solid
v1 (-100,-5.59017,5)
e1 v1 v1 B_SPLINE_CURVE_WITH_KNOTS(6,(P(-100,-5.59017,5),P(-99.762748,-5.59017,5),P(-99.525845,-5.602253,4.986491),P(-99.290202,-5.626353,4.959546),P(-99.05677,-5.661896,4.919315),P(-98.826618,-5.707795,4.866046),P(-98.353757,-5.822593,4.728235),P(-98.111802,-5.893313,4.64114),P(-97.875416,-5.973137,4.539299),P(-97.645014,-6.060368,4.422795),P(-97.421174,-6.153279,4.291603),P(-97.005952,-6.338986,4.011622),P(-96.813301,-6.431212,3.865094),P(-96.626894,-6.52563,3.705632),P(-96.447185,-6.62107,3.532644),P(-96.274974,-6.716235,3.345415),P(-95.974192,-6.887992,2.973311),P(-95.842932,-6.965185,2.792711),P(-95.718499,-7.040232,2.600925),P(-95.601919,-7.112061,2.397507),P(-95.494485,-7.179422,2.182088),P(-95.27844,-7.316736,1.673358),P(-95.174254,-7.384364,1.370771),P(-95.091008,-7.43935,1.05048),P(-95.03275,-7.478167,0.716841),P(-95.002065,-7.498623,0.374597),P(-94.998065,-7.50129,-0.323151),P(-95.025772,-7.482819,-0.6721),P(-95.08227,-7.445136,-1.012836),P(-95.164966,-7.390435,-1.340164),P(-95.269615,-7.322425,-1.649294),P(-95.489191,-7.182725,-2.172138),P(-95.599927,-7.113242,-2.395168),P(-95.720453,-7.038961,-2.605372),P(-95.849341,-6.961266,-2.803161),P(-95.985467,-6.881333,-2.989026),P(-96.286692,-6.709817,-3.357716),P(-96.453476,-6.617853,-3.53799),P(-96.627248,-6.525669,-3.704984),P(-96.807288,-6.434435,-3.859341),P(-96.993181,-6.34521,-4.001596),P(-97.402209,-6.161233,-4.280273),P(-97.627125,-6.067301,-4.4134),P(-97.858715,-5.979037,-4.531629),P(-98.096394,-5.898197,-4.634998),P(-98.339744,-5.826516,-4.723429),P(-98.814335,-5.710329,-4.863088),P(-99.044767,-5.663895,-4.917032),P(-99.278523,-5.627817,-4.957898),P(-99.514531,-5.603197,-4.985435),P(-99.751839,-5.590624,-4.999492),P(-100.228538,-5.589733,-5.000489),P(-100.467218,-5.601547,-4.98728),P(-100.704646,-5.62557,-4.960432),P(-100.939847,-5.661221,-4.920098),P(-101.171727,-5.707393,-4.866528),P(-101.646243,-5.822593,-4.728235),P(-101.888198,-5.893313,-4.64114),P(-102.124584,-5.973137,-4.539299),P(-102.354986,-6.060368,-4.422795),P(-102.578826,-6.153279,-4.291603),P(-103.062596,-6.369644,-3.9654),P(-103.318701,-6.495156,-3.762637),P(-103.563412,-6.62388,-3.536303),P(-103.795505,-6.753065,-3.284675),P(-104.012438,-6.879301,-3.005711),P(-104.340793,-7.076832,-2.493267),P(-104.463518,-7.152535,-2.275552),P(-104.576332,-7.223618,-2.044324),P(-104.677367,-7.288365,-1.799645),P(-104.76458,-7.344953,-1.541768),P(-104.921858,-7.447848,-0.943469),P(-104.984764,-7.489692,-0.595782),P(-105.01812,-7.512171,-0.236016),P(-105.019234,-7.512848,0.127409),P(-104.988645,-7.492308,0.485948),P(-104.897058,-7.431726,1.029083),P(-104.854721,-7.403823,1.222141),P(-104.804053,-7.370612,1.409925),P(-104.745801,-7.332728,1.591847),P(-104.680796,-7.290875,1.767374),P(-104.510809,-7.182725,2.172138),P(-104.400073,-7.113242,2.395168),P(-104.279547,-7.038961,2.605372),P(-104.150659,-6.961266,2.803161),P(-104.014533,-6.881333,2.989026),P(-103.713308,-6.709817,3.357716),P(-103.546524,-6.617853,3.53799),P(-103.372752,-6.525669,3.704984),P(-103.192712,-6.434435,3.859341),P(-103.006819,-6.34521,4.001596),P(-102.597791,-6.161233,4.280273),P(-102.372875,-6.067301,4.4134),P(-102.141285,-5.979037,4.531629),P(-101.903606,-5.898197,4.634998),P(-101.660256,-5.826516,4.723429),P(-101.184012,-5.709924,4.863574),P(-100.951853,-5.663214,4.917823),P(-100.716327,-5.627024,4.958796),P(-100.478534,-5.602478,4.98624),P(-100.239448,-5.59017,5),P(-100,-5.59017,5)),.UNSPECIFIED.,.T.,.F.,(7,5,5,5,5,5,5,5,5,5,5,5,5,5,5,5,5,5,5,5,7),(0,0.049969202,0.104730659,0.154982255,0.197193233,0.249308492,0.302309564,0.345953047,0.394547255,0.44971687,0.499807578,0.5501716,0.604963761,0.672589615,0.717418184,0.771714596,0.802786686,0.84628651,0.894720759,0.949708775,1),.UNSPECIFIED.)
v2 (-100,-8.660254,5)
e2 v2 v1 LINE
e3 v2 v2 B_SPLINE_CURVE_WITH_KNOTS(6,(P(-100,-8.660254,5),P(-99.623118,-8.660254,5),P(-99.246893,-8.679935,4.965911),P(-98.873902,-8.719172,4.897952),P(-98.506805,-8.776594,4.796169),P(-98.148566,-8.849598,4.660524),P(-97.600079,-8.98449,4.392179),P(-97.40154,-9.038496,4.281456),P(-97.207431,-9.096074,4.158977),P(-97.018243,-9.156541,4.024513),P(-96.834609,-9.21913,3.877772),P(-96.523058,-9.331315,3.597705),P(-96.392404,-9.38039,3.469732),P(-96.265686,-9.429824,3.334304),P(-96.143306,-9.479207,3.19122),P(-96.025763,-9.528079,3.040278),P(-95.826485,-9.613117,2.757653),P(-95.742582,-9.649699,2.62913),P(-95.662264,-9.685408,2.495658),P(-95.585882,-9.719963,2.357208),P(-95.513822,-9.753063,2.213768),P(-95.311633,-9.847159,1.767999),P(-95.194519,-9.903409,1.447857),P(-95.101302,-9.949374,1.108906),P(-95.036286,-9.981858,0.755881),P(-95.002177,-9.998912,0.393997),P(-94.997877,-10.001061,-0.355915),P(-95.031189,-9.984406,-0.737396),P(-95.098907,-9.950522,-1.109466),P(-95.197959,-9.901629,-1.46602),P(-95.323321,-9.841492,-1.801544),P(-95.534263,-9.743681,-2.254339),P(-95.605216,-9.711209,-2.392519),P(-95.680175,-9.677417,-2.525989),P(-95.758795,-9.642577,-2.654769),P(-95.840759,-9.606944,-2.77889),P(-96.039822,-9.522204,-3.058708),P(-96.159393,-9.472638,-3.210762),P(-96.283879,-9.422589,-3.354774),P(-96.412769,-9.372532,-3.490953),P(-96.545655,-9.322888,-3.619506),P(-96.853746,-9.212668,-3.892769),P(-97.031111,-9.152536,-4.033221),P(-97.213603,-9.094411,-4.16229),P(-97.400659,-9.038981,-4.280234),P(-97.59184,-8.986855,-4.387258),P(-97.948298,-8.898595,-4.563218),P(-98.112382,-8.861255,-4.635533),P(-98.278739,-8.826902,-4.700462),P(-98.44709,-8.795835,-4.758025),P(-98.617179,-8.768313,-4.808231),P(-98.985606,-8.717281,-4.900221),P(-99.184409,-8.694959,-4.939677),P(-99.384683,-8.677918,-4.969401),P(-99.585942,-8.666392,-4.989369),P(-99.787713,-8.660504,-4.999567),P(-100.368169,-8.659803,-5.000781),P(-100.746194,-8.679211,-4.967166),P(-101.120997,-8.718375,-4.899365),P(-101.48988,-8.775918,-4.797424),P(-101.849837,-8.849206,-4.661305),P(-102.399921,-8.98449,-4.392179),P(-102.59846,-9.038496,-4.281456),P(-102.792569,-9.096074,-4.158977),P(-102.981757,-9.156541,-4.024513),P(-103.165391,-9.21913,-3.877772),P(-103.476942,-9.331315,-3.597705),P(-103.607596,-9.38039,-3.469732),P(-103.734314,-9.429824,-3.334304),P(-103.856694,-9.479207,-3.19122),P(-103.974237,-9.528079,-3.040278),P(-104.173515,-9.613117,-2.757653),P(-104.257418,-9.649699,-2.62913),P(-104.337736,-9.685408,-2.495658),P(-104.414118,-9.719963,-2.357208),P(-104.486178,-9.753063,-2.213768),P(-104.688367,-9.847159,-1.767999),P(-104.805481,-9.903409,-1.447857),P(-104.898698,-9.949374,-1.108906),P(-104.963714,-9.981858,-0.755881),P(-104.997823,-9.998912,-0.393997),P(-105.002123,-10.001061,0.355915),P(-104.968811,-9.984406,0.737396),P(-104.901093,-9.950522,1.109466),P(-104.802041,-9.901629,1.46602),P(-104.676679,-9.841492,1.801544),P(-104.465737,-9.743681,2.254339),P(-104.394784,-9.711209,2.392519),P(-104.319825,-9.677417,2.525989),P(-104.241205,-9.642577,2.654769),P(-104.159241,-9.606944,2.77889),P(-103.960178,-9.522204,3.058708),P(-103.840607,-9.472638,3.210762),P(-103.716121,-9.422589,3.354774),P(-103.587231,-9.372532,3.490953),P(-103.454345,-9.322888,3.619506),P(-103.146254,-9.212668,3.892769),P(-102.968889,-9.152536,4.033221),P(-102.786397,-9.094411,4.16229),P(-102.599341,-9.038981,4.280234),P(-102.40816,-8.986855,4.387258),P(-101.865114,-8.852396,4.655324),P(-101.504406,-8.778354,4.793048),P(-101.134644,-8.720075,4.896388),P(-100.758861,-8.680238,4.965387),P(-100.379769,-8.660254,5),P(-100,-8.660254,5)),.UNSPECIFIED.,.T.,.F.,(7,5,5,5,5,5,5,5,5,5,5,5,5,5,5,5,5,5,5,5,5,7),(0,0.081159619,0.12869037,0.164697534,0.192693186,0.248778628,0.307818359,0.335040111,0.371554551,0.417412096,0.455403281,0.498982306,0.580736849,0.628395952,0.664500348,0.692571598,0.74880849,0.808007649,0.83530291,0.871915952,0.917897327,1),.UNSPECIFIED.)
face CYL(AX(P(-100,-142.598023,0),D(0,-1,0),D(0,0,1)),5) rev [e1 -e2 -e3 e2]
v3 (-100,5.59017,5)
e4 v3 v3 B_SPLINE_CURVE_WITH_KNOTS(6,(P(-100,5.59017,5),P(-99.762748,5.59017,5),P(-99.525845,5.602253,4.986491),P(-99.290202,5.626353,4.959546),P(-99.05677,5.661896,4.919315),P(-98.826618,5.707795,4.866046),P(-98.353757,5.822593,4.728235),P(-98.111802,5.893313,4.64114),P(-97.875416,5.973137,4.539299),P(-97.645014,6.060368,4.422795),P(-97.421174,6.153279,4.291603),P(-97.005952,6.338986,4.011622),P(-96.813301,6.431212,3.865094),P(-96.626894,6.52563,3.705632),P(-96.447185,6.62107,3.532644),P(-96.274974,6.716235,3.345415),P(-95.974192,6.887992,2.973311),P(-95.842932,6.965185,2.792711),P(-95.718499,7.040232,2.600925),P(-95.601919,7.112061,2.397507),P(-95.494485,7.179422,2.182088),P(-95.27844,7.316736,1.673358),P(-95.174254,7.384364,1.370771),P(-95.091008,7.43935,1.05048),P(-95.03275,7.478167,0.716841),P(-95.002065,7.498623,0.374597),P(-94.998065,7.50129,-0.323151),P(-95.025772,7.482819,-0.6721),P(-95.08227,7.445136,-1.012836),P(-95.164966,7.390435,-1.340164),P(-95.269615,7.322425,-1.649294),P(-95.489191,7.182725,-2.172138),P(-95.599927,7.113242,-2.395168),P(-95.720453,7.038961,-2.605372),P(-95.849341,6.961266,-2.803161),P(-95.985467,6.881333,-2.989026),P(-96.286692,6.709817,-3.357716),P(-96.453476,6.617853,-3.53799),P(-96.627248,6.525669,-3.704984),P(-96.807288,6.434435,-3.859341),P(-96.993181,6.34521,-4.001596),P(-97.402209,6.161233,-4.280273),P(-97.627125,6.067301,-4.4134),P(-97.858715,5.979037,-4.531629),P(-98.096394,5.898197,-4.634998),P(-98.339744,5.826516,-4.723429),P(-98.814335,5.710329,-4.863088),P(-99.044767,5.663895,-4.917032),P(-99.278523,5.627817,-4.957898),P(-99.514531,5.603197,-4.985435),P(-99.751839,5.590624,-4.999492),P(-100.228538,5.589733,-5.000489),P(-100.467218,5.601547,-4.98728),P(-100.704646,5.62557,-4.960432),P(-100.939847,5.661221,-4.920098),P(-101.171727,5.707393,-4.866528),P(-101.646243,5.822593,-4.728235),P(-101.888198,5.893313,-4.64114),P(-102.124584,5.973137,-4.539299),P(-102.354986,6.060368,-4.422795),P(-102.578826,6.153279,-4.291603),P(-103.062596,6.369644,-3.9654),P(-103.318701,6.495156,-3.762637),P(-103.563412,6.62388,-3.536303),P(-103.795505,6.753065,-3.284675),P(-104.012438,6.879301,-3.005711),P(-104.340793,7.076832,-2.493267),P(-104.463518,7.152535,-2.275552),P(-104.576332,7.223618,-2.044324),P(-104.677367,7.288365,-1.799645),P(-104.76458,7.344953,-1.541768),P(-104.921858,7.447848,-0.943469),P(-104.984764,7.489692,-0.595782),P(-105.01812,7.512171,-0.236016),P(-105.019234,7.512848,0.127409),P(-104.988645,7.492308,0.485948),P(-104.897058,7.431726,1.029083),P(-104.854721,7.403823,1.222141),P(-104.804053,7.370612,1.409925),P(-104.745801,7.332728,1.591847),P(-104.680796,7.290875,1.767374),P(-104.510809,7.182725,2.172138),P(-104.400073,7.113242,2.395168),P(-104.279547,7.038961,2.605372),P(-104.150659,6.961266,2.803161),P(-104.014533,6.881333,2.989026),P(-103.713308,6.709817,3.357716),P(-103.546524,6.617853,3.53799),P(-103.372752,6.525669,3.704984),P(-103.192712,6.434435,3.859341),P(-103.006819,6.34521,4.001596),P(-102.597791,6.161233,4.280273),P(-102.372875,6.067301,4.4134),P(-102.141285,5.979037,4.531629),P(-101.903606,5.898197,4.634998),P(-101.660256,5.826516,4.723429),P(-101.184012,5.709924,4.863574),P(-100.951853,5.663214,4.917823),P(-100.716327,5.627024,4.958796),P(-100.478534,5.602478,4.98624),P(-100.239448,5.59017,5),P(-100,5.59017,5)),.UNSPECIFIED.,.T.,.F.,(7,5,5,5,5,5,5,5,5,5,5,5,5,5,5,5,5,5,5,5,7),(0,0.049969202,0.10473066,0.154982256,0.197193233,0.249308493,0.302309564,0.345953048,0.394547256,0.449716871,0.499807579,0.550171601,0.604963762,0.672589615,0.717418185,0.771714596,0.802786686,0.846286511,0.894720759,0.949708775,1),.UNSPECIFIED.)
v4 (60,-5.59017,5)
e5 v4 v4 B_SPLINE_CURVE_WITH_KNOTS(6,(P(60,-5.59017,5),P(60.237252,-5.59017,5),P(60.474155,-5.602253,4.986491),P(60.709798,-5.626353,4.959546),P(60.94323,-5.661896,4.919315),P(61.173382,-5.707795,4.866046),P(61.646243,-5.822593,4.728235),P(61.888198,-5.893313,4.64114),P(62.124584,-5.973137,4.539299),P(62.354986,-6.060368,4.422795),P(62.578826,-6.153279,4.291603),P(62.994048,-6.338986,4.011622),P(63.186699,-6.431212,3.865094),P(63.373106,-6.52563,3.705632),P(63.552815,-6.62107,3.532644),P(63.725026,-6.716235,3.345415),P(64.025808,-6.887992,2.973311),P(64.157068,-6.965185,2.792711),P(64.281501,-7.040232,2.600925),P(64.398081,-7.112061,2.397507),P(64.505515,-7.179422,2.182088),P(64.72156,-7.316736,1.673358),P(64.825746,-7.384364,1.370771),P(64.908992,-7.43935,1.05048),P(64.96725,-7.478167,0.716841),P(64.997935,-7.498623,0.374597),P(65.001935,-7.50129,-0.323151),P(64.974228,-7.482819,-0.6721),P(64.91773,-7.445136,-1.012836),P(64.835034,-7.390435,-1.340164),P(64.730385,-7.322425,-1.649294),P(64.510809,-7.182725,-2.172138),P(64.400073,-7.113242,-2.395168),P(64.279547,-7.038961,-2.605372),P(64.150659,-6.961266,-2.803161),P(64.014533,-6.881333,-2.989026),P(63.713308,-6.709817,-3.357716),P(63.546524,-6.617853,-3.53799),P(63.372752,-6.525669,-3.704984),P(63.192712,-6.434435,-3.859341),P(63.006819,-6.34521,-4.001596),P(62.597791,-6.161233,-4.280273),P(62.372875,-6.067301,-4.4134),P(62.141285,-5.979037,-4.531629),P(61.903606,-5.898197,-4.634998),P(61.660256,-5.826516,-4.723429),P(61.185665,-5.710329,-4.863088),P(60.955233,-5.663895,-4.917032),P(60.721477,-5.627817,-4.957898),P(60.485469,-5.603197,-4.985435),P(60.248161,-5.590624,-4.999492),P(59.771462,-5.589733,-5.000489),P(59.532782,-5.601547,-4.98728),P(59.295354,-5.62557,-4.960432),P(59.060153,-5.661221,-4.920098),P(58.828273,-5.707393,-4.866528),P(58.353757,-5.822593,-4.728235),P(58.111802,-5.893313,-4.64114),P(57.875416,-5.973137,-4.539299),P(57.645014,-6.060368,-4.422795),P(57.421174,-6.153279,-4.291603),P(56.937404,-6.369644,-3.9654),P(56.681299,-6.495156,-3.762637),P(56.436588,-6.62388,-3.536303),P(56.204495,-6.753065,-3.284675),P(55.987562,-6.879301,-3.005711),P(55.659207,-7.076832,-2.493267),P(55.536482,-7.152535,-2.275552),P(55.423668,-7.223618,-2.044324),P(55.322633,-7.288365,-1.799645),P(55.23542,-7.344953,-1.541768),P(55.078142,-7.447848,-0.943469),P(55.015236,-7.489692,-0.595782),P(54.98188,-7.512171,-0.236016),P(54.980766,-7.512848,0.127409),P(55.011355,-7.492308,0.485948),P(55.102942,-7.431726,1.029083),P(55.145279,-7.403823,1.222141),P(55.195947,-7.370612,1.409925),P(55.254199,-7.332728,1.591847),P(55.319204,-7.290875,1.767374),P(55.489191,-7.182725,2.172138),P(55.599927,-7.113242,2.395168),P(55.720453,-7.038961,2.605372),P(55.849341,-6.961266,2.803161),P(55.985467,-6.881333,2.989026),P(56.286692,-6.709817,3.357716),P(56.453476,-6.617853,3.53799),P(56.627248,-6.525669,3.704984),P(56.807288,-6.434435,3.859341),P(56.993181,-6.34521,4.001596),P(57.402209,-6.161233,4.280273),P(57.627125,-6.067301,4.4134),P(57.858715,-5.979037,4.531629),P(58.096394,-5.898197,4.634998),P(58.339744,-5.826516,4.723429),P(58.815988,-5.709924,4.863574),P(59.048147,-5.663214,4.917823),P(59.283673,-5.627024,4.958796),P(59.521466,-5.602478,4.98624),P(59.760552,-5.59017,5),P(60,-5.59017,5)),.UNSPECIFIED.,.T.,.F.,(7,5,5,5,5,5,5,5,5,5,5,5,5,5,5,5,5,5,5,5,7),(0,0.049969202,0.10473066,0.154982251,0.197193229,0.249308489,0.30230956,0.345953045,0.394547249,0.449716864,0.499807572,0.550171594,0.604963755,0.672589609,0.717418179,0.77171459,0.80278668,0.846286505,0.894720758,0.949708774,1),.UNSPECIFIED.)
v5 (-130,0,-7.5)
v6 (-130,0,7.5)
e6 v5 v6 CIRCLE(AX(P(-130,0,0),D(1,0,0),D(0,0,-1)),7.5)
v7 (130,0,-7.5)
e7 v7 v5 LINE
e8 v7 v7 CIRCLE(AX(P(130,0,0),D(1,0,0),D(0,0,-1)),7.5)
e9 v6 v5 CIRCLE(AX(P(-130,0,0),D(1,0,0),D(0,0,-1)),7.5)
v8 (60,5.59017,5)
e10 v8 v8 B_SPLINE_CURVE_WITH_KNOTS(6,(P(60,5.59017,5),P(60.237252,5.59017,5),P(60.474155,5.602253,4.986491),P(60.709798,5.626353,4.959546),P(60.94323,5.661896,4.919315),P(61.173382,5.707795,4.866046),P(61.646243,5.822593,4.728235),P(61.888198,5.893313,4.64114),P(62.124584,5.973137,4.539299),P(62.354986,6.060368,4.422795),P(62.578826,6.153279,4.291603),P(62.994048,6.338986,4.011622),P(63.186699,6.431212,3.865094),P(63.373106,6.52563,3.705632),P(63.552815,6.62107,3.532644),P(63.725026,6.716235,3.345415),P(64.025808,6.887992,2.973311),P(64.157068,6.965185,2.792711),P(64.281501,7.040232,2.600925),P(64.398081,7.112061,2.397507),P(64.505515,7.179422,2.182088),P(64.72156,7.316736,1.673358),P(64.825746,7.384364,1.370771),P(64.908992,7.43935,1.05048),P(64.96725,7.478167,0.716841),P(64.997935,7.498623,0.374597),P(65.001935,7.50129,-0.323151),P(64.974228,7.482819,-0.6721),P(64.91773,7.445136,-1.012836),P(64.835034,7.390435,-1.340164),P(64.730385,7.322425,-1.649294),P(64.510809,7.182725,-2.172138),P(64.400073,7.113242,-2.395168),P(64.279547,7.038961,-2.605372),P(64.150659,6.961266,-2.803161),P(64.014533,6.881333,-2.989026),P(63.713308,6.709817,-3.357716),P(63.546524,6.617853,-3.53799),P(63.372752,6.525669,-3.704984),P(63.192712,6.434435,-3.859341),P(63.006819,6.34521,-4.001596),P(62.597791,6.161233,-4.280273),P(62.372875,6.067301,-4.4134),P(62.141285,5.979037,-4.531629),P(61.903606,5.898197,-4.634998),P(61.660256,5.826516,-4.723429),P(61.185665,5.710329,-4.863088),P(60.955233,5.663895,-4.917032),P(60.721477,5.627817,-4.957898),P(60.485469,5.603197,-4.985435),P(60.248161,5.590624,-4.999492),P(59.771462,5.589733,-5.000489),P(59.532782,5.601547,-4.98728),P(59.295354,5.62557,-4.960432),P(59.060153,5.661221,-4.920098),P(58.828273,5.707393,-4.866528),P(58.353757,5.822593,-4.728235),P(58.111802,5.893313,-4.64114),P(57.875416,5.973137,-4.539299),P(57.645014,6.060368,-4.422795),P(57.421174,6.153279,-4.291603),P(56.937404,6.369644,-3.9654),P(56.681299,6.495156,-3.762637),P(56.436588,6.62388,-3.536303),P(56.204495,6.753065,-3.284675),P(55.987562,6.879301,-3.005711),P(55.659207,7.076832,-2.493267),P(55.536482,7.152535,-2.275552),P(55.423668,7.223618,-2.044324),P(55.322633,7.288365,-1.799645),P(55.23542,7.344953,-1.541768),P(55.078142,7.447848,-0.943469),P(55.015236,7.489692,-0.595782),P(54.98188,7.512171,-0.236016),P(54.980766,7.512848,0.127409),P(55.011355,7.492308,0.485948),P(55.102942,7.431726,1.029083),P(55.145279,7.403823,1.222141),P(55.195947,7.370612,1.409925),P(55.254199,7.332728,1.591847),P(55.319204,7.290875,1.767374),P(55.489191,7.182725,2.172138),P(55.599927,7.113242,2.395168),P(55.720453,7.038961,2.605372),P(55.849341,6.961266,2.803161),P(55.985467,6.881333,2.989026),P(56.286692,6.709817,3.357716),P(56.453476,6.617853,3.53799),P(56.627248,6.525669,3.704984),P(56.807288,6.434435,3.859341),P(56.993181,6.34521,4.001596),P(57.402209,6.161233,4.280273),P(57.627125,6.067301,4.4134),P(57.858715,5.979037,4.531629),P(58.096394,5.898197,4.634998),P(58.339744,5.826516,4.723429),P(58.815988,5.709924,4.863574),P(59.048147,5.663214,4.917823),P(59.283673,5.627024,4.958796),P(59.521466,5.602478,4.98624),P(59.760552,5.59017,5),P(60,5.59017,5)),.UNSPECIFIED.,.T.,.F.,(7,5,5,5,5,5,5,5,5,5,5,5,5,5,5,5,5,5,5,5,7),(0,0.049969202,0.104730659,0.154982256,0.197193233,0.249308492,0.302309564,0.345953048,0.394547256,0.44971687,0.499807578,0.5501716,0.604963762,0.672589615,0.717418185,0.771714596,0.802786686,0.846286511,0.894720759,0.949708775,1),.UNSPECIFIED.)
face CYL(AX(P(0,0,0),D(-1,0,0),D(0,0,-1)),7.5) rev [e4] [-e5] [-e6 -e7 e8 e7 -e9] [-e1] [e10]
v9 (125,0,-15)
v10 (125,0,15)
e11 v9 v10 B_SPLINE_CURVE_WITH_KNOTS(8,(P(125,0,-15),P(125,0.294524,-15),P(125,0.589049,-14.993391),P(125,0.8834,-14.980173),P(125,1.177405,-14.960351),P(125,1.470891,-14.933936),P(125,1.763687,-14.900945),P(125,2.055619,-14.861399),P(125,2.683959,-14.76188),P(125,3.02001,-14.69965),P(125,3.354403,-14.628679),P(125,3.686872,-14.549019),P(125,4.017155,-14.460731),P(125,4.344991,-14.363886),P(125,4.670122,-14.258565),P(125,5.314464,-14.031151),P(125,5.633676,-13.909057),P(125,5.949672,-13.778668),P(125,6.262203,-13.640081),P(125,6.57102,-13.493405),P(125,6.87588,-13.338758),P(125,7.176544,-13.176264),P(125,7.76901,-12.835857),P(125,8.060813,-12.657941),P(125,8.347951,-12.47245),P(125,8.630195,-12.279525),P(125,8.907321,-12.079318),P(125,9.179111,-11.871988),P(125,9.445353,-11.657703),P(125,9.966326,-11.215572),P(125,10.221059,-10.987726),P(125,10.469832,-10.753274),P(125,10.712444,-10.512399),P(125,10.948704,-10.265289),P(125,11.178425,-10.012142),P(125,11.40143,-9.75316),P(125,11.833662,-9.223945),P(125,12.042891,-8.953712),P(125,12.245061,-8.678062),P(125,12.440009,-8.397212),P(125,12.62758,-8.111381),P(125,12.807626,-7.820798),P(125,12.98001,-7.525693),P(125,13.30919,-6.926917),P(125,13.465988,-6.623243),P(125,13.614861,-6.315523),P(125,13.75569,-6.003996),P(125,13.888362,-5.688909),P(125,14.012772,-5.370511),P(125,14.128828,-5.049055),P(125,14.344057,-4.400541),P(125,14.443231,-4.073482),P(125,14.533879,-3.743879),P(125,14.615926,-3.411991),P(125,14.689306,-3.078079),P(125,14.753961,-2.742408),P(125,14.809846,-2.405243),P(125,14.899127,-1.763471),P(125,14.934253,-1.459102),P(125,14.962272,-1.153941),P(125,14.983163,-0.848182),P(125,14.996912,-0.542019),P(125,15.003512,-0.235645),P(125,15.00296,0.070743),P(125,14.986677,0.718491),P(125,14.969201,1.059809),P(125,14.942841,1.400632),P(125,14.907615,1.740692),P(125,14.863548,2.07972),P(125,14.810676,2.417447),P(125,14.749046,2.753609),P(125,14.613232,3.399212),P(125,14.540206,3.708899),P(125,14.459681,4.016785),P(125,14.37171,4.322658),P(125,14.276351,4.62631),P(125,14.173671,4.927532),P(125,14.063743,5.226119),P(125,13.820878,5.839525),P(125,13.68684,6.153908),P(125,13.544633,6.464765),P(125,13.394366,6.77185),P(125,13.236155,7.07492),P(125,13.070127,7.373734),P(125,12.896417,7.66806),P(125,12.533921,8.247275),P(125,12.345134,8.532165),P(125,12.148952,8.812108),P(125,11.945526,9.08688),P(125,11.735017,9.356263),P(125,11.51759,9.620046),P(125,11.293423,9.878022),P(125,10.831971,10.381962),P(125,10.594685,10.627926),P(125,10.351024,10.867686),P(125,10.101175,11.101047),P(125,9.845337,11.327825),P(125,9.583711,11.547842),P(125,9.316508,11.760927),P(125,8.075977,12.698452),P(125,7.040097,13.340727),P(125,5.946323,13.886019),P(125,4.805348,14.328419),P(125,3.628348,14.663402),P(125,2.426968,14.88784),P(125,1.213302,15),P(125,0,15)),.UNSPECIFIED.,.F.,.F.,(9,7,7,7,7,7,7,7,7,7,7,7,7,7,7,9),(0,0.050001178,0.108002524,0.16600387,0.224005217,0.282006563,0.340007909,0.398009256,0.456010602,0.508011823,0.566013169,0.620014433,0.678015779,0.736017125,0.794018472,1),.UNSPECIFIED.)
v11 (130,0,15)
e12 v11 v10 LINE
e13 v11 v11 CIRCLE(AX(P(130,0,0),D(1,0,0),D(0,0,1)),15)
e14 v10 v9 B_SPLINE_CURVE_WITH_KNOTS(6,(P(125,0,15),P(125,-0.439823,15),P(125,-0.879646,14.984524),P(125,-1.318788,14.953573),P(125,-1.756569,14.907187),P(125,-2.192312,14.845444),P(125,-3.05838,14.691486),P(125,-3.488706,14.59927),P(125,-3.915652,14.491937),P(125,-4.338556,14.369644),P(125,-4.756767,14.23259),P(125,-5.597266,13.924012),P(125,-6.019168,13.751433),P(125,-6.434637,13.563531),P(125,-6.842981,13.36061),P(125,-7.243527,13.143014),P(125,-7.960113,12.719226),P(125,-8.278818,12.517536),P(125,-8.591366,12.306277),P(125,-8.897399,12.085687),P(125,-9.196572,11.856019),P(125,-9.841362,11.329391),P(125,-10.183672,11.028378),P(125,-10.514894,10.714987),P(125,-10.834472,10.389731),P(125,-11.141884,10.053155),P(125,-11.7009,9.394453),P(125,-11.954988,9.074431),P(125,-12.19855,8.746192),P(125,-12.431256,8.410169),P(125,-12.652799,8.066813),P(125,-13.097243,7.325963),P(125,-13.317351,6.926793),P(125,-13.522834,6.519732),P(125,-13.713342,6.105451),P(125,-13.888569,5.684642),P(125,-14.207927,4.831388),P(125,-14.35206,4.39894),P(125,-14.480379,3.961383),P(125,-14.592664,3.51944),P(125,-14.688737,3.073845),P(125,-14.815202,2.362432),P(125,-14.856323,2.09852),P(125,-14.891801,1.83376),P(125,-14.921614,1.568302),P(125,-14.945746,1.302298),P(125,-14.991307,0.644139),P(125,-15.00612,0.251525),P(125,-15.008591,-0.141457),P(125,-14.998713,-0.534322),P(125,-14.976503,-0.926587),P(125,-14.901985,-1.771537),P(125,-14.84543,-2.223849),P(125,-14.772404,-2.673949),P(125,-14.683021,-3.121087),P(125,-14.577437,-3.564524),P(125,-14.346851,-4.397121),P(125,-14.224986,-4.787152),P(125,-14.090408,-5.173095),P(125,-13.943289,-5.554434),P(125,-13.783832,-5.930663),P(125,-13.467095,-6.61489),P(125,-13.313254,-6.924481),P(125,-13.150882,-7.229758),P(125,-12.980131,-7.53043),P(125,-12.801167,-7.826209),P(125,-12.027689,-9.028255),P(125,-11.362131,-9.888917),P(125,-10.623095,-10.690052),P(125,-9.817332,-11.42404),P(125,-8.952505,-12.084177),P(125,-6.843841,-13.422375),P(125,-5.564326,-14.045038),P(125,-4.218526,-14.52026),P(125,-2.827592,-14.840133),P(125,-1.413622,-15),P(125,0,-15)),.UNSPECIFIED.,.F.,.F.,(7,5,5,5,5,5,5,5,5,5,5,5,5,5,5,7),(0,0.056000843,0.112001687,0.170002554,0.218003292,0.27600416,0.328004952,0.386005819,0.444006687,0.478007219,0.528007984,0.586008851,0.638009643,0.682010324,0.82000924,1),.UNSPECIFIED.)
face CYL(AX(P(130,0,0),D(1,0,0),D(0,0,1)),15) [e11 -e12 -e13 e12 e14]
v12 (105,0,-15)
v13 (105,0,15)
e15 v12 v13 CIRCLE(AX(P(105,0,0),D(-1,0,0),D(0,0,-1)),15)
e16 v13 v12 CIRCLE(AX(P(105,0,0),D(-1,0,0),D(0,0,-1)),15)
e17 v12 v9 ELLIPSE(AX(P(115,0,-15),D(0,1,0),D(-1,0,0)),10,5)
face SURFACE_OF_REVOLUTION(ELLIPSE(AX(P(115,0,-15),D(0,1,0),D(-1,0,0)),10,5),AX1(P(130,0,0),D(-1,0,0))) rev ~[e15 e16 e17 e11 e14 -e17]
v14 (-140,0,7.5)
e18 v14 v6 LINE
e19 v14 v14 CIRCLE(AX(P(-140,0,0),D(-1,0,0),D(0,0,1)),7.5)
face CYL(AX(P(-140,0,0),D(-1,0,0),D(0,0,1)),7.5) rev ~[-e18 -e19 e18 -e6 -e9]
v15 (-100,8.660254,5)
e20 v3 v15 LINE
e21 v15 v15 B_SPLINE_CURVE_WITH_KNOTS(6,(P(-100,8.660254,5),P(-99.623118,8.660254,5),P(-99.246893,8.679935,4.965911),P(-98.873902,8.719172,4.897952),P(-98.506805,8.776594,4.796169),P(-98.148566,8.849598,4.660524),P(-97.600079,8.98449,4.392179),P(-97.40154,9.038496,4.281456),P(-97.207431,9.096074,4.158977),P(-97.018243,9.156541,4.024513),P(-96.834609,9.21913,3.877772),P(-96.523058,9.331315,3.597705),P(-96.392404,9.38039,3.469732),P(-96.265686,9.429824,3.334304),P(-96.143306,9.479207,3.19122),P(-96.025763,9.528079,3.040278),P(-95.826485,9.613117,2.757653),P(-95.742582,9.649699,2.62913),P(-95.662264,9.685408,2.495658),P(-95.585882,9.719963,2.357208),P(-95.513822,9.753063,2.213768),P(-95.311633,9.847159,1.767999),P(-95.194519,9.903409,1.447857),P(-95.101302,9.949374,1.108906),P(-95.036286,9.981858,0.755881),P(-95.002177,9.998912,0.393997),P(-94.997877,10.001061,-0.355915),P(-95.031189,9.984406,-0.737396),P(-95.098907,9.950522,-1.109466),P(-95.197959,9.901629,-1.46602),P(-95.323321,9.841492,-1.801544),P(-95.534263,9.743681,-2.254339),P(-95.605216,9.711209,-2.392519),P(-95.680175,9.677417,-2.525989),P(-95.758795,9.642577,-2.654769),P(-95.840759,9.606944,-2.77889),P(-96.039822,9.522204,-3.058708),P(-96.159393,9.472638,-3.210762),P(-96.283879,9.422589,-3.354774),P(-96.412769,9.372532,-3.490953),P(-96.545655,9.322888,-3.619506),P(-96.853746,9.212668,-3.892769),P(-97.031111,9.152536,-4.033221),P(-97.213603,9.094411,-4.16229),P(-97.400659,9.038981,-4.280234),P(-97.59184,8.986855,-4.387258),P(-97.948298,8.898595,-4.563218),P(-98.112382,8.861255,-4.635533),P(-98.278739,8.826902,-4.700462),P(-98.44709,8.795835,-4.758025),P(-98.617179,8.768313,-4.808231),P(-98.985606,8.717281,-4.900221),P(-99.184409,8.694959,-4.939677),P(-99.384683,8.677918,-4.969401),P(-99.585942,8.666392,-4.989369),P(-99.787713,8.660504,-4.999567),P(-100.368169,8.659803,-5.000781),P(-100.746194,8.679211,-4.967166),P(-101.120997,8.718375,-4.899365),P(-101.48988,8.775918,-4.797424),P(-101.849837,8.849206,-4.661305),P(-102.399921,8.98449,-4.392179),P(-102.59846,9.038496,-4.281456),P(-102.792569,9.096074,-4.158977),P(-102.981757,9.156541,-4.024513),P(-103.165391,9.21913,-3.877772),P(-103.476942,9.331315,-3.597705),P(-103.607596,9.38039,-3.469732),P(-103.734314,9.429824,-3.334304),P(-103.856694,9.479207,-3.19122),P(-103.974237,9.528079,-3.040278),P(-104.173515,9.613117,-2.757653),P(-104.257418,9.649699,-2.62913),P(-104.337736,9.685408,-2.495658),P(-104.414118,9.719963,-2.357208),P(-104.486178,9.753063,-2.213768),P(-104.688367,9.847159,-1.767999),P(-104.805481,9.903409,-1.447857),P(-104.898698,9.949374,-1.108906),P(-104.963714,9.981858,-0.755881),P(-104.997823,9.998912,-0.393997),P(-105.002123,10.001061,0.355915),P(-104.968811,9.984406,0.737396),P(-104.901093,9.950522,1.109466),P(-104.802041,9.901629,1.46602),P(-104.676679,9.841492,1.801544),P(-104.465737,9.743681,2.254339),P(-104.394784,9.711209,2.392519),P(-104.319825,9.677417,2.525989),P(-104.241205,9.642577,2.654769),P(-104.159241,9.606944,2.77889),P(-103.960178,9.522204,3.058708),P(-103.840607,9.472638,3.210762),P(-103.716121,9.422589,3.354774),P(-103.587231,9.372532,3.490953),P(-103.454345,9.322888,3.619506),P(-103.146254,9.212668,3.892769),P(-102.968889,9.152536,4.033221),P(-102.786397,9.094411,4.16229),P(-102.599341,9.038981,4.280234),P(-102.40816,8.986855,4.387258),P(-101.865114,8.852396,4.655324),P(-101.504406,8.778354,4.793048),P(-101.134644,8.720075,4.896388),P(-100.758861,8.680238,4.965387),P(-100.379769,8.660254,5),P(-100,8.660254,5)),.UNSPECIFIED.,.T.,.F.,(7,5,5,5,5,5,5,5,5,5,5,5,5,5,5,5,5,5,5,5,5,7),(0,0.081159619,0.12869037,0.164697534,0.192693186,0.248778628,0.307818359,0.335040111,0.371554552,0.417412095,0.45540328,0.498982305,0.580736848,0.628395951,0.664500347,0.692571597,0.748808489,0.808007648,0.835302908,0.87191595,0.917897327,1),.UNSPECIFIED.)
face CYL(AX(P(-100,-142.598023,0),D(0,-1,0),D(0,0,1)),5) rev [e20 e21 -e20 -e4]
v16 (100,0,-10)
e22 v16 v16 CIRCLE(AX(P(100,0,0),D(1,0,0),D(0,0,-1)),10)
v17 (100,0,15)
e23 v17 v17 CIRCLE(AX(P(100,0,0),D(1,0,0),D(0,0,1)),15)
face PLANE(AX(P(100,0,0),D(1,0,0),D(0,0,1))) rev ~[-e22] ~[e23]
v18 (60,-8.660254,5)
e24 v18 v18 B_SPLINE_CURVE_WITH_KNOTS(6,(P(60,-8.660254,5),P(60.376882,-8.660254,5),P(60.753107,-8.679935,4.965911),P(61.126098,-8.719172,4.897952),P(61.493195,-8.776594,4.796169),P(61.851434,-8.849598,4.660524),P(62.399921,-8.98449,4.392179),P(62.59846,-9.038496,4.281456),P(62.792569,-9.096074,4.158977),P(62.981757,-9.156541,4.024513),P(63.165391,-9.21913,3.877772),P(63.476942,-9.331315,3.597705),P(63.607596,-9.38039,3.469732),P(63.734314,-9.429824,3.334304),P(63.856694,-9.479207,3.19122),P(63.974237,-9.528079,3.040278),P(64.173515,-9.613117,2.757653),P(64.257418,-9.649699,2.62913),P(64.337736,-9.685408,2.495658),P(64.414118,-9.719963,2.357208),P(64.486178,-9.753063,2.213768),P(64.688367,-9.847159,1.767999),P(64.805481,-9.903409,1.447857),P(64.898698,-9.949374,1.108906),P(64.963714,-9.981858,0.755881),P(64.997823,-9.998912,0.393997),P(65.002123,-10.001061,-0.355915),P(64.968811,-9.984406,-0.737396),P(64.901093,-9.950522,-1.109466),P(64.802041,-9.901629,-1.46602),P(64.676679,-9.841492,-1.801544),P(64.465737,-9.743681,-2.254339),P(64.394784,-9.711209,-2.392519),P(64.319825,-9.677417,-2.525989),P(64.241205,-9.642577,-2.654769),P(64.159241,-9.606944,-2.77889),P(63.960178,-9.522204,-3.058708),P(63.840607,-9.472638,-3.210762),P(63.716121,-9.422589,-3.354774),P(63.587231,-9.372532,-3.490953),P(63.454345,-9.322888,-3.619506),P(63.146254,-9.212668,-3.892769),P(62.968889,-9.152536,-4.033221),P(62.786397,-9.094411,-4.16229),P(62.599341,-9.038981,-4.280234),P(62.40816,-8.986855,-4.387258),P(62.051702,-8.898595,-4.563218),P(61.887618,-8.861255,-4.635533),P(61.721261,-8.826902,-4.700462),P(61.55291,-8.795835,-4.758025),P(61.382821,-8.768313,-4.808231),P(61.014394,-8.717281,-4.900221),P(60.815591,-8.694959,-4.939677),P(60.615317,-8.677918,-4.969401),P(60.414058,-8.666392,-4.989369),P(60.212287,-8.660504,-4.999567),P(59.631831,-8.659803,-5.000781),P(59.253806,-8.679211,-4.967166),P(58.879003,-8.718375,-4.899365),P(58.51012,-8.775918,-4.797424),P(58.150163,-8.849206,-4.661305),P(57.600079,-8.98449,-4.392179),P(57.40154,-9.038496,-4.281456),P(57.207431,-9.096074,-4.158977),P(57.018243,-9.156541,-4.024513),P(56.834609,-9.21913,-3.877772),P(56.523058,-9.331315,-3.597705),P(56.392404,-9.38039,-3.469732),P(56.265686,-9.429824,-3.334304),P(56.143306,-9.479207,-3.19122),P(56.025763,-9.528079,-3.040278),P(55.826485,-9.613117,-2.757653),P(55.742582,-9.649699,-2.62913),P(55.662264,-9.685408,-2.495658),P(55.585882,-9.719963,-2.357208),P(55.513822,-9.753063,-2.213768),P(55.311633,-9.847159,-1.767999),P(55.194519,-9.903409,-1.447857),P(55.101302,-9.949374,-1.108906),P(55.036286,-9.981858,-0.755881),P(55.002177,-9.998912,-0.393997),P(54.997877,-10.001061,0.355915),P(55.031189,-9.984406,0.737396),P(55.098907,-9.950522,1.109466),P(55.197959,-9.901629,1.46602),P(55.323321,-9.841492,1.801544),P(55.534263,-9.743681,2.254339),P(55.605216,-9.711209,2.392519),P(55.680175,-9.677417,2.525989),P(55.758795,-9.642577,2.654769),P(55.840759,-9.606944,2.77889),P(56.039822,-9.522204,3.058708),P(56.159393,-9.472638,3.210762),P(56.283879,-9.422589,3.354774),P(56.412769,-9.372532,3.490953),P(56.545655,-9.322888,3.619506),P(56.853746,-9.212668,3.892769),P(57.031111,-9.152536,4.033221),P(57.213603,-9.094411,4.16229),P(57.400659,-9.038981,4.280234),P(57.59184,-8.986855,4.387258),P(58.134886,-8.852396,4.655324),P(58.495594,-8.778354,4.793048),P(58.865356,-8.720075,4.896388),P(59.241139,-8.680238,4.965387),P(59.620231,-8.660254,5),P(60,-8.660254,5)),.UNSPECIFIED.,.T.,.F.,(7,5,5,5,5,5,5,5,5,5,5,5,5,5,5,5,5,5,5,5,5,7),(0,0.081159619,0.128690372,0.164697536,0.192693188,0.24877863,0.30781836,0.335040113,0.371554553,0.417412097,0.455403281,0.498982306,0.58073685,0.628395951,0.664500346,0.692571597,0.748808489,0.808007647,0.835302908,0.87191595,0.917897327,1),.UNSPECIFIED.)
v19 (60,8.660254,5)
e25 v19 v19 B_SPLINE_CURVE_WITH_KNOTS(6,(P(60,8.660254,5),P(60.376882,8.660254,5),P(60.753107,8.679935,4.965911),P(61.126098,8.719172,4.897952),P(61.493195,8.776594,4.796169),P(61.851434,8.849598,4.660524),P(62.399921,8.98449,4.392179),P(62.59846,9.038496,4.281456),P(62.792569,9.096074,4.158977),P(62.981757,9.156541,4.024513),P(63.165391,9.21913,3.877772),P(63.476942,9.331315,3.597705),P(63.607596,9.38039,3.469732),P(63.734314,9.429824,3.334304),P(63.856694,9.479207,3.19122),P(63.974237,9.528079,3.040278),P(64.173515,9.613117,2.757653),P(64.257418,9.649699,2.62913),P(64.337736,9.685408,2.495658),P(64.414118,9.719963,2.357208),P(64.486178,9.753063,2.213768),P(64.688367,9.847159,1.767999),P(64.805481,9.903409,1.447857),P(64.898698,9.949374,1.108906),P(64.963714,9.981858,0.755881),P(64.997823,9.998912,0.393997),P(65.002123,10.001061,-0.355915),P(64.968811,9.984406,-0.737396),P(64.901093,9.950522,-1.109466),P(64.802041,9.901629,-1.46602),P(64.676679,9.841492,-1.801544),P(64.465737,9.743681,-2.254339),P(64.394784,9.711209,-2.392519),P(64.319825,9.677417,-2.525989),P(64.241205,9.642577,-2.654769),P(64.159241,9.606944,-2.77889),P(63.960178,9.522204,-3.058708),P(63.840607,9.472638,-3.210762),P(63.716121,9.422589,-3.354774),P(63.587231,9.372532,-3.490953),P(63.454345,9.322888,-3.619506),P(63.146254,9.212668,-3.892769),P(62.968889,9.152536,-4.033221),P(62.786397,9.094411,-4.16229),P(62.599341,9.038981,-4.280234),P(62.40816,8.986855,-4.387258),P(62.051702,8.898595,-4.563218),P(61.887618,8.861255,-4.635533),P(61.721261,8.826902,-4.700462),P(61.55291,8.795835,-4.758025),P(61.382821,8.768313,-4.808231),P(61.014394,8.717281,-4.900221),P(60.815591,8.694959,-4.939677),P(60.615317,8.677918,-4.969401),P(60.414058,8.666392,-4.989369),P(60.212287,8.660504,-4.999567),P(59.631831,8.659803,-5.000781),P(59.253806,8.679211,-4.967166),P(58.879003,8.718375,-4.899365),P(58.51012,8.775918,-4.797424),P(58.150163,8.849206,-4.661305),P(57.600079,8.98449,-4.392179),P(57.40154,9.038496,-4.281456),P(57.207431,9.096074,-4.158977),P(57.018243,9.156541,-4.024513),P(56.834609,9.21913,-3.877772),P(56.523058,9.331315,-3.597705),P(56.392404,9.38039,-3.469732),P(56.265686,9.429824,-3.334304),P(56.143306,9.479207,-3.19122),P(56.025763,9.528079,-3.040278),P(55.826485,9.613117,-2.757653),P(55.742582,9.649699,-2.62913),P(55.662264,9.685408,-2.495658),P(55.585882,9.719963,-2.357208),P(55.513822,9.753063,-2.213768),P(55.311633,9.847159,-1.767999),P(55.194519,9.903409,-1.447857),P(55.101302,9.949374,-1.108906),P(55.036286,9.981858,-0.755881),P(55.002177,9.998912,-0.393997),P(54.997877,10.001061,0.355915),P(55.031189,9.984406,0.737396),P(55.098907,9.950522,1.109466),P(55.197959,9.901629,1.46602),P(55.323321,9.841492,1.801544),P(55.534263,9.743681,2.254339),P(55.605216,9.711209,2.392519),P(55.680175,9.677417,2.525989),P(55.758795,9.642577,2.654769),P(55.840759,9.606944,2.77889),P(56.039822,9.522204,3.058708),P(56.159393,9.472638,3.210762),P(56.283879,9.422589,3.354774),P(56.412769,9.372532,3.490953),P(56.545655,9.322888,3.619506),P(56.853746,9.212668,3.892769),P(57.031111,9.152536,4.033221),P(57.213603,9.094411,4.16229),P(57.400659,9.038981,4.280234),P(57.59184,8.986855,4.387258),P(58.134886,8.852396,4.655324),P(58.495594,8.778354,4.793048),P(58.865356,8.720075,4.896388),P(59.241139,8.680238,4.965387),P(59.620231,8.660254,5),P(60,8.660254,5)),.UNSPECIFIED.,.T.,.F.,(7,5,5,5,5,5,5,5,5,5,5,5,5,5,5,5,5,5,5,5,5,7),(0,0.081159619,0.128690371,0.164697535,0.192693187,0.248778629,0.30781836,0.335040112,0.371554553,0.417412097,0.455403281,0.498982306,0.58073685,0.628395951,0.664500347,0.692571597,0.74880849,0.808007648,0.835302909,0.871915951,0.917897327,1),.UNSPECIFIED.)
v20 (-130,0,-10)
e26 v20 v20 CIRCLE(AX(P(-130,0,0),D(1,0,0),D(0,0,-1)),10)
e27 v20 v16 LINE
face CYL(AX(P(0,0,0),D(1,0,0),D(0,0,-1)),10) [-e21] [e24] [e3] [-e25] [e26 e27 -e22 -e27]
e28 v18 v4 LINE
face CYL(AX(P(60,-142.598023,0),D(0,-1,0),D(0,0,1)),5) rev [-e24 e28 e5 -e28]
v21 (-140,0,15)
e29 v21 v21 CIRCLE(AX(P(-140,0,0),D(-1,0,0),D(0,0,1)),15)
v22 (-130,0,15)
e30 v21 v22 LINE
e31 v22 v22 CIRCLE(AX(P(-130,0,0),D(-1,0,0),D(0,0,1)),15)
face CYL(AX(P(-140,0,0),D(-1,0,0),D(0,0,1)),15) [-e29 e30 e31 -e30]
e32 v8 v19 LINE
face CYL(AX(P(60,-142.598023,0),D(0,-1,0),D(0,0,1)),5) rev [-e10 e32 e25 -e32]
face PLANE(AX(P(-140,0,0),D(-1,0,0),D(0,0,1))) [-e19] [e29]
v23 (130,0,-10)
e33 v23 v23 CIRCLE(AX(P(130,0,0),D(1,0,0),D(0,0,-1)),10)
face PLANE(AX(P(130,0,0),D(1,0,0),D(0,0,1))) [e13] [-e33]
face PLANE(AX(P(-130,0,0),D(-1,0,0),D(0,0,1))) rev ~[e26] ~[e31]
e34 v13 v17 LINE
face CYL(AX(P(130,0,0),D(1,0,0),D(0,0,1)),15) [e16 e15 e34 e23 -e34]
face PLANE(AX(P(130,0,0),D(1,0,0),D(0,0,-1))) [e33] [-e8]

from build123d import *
from build123d.topology import SkipClean

# Parameters (mm, degrees)
CROQUIS1_R                 = 10
CROQUIS1_R_2               = 7.5
SALIENTE_EXTRUIR1_DEPTH    = 130
SALIENTE_EXTRUIR2_START    = 10
CROQUIS2_R                 = 15
CROQUIS2_R_2               = 7.5
SALIENTE_EXTRUIR2_DEPTH    = 10
CORTAR_EXTRUIR1_DEPTH      = 142.598022585
CORTAR_EXTRUIR1_DEPTH_BACK = 142.598022585
CROQUIS3_R                 = 5
CROQUIS4_R                 = 15
CROQUIS4_R_2               = 10
SALIENTE_EXTRUIR3_DEPTH    = 30
CROQUIS5_RX                = 10
CROQUIS5_RY                = 5


with BuildPart() as part:
    # Croquis1 → Saliente-Extruir1 (new, symmetric)
    with BuildSketch(Plane(origin=(0, 0, 0), x_dir=(0, 0, -1), z_dir=(1, 0, 0))):
        Circle(CROQUIS1_R)
        Circle(CROQUIS1_R_2, mode=Mode.SUBTRACT)
    extrude(amount=SALIENTE_EXTRUIR1_DEPTH, both=True)

    # Croquis2 → Saliente-Extruir2 (add)
    with SkipClean():  # the faces are left unmerged after this step: merging them gives an invalid solid
        with BuildSketch(Plane.ZY.offset(130).offset(SALIENTE_EXTRUIR2_START)):
            Circle(CROQUIS2_R)
            Circle(CROQUIS2_R_2, mode=Mode.SUBTRACT)
        extrude(amount=-SALIENTE_EXTRUIR2_DEPTH)

    # Croquis3 → Cortar-Extruir1 (cut, two sides: drawn at the far end of the back side and taken through both)
    with SkipClean():  # the faces are left unmerged after this step: merging them gives an invalid solid
        with BuildSketch(Plane(origin=(0, 0, 0), x_dir=(1, 0, 0), z_dir=(0, 1, 0)).offset(-CORTAR_EXTRUIR1_DEPTH_BACK)):
            with Locations(Location((-100, 0, 0), (0, 0, 270))):
                Circle(CROQUIS3_R)
            with Locations(Location((60, 0, 0), (0, 0, 270))):
                Circle(CROQUIS3_R)
        extrude(amount=CORTAR_EXTRUIR1_DEPTH + CORTAR_EXTRUIR1_DEPTH_BACK, mode=Mode.SUBTRACT)

    # Croquis4 → Saliente-Extruir3 (add)
    with SkipClean():  # the faces are left unmerged after this step: merging them gives an invalid solid
        with BuildSketch(Plane(origin=(130, 0, 0), x_dir=(0, 0, -1), z_dir=(1, 0, 0))):
            with Locations(Location((0, 0, 0), (0, 0, 180))):
                Circle(CROQUIS4_R)
            Circle(CROQUIS4_R_2, mode=Mode.SUBTRACT)
        extrude(amount=-SALIENTE_EXTRUIR3_DEPTH)

    # Croquis5 → Cortar-Revolución1 (revolve, cut)
    with SkipClean():  # the faces are left unmerged after this step: merging them gives an invalid solid
        with BuildSketch(Plane.XY, mode=Mode.PRIVATE) as cortar_revoluci_n1_sk:
            with Locations(Location((115, 15), (0, 0, 180))):
                Ellipse(CROQUIS5_RX, CROQUIS5_RY)
        revolve(cortar_revoluci_n1_sk.sketch.rotate(Axis((130, 0, 0), (-1, 0, 0)), 90), axis=Axis((130, 0, 0), (-1, 0, 0)), mode=Mode.SUBTRACT)


solid = part.part
